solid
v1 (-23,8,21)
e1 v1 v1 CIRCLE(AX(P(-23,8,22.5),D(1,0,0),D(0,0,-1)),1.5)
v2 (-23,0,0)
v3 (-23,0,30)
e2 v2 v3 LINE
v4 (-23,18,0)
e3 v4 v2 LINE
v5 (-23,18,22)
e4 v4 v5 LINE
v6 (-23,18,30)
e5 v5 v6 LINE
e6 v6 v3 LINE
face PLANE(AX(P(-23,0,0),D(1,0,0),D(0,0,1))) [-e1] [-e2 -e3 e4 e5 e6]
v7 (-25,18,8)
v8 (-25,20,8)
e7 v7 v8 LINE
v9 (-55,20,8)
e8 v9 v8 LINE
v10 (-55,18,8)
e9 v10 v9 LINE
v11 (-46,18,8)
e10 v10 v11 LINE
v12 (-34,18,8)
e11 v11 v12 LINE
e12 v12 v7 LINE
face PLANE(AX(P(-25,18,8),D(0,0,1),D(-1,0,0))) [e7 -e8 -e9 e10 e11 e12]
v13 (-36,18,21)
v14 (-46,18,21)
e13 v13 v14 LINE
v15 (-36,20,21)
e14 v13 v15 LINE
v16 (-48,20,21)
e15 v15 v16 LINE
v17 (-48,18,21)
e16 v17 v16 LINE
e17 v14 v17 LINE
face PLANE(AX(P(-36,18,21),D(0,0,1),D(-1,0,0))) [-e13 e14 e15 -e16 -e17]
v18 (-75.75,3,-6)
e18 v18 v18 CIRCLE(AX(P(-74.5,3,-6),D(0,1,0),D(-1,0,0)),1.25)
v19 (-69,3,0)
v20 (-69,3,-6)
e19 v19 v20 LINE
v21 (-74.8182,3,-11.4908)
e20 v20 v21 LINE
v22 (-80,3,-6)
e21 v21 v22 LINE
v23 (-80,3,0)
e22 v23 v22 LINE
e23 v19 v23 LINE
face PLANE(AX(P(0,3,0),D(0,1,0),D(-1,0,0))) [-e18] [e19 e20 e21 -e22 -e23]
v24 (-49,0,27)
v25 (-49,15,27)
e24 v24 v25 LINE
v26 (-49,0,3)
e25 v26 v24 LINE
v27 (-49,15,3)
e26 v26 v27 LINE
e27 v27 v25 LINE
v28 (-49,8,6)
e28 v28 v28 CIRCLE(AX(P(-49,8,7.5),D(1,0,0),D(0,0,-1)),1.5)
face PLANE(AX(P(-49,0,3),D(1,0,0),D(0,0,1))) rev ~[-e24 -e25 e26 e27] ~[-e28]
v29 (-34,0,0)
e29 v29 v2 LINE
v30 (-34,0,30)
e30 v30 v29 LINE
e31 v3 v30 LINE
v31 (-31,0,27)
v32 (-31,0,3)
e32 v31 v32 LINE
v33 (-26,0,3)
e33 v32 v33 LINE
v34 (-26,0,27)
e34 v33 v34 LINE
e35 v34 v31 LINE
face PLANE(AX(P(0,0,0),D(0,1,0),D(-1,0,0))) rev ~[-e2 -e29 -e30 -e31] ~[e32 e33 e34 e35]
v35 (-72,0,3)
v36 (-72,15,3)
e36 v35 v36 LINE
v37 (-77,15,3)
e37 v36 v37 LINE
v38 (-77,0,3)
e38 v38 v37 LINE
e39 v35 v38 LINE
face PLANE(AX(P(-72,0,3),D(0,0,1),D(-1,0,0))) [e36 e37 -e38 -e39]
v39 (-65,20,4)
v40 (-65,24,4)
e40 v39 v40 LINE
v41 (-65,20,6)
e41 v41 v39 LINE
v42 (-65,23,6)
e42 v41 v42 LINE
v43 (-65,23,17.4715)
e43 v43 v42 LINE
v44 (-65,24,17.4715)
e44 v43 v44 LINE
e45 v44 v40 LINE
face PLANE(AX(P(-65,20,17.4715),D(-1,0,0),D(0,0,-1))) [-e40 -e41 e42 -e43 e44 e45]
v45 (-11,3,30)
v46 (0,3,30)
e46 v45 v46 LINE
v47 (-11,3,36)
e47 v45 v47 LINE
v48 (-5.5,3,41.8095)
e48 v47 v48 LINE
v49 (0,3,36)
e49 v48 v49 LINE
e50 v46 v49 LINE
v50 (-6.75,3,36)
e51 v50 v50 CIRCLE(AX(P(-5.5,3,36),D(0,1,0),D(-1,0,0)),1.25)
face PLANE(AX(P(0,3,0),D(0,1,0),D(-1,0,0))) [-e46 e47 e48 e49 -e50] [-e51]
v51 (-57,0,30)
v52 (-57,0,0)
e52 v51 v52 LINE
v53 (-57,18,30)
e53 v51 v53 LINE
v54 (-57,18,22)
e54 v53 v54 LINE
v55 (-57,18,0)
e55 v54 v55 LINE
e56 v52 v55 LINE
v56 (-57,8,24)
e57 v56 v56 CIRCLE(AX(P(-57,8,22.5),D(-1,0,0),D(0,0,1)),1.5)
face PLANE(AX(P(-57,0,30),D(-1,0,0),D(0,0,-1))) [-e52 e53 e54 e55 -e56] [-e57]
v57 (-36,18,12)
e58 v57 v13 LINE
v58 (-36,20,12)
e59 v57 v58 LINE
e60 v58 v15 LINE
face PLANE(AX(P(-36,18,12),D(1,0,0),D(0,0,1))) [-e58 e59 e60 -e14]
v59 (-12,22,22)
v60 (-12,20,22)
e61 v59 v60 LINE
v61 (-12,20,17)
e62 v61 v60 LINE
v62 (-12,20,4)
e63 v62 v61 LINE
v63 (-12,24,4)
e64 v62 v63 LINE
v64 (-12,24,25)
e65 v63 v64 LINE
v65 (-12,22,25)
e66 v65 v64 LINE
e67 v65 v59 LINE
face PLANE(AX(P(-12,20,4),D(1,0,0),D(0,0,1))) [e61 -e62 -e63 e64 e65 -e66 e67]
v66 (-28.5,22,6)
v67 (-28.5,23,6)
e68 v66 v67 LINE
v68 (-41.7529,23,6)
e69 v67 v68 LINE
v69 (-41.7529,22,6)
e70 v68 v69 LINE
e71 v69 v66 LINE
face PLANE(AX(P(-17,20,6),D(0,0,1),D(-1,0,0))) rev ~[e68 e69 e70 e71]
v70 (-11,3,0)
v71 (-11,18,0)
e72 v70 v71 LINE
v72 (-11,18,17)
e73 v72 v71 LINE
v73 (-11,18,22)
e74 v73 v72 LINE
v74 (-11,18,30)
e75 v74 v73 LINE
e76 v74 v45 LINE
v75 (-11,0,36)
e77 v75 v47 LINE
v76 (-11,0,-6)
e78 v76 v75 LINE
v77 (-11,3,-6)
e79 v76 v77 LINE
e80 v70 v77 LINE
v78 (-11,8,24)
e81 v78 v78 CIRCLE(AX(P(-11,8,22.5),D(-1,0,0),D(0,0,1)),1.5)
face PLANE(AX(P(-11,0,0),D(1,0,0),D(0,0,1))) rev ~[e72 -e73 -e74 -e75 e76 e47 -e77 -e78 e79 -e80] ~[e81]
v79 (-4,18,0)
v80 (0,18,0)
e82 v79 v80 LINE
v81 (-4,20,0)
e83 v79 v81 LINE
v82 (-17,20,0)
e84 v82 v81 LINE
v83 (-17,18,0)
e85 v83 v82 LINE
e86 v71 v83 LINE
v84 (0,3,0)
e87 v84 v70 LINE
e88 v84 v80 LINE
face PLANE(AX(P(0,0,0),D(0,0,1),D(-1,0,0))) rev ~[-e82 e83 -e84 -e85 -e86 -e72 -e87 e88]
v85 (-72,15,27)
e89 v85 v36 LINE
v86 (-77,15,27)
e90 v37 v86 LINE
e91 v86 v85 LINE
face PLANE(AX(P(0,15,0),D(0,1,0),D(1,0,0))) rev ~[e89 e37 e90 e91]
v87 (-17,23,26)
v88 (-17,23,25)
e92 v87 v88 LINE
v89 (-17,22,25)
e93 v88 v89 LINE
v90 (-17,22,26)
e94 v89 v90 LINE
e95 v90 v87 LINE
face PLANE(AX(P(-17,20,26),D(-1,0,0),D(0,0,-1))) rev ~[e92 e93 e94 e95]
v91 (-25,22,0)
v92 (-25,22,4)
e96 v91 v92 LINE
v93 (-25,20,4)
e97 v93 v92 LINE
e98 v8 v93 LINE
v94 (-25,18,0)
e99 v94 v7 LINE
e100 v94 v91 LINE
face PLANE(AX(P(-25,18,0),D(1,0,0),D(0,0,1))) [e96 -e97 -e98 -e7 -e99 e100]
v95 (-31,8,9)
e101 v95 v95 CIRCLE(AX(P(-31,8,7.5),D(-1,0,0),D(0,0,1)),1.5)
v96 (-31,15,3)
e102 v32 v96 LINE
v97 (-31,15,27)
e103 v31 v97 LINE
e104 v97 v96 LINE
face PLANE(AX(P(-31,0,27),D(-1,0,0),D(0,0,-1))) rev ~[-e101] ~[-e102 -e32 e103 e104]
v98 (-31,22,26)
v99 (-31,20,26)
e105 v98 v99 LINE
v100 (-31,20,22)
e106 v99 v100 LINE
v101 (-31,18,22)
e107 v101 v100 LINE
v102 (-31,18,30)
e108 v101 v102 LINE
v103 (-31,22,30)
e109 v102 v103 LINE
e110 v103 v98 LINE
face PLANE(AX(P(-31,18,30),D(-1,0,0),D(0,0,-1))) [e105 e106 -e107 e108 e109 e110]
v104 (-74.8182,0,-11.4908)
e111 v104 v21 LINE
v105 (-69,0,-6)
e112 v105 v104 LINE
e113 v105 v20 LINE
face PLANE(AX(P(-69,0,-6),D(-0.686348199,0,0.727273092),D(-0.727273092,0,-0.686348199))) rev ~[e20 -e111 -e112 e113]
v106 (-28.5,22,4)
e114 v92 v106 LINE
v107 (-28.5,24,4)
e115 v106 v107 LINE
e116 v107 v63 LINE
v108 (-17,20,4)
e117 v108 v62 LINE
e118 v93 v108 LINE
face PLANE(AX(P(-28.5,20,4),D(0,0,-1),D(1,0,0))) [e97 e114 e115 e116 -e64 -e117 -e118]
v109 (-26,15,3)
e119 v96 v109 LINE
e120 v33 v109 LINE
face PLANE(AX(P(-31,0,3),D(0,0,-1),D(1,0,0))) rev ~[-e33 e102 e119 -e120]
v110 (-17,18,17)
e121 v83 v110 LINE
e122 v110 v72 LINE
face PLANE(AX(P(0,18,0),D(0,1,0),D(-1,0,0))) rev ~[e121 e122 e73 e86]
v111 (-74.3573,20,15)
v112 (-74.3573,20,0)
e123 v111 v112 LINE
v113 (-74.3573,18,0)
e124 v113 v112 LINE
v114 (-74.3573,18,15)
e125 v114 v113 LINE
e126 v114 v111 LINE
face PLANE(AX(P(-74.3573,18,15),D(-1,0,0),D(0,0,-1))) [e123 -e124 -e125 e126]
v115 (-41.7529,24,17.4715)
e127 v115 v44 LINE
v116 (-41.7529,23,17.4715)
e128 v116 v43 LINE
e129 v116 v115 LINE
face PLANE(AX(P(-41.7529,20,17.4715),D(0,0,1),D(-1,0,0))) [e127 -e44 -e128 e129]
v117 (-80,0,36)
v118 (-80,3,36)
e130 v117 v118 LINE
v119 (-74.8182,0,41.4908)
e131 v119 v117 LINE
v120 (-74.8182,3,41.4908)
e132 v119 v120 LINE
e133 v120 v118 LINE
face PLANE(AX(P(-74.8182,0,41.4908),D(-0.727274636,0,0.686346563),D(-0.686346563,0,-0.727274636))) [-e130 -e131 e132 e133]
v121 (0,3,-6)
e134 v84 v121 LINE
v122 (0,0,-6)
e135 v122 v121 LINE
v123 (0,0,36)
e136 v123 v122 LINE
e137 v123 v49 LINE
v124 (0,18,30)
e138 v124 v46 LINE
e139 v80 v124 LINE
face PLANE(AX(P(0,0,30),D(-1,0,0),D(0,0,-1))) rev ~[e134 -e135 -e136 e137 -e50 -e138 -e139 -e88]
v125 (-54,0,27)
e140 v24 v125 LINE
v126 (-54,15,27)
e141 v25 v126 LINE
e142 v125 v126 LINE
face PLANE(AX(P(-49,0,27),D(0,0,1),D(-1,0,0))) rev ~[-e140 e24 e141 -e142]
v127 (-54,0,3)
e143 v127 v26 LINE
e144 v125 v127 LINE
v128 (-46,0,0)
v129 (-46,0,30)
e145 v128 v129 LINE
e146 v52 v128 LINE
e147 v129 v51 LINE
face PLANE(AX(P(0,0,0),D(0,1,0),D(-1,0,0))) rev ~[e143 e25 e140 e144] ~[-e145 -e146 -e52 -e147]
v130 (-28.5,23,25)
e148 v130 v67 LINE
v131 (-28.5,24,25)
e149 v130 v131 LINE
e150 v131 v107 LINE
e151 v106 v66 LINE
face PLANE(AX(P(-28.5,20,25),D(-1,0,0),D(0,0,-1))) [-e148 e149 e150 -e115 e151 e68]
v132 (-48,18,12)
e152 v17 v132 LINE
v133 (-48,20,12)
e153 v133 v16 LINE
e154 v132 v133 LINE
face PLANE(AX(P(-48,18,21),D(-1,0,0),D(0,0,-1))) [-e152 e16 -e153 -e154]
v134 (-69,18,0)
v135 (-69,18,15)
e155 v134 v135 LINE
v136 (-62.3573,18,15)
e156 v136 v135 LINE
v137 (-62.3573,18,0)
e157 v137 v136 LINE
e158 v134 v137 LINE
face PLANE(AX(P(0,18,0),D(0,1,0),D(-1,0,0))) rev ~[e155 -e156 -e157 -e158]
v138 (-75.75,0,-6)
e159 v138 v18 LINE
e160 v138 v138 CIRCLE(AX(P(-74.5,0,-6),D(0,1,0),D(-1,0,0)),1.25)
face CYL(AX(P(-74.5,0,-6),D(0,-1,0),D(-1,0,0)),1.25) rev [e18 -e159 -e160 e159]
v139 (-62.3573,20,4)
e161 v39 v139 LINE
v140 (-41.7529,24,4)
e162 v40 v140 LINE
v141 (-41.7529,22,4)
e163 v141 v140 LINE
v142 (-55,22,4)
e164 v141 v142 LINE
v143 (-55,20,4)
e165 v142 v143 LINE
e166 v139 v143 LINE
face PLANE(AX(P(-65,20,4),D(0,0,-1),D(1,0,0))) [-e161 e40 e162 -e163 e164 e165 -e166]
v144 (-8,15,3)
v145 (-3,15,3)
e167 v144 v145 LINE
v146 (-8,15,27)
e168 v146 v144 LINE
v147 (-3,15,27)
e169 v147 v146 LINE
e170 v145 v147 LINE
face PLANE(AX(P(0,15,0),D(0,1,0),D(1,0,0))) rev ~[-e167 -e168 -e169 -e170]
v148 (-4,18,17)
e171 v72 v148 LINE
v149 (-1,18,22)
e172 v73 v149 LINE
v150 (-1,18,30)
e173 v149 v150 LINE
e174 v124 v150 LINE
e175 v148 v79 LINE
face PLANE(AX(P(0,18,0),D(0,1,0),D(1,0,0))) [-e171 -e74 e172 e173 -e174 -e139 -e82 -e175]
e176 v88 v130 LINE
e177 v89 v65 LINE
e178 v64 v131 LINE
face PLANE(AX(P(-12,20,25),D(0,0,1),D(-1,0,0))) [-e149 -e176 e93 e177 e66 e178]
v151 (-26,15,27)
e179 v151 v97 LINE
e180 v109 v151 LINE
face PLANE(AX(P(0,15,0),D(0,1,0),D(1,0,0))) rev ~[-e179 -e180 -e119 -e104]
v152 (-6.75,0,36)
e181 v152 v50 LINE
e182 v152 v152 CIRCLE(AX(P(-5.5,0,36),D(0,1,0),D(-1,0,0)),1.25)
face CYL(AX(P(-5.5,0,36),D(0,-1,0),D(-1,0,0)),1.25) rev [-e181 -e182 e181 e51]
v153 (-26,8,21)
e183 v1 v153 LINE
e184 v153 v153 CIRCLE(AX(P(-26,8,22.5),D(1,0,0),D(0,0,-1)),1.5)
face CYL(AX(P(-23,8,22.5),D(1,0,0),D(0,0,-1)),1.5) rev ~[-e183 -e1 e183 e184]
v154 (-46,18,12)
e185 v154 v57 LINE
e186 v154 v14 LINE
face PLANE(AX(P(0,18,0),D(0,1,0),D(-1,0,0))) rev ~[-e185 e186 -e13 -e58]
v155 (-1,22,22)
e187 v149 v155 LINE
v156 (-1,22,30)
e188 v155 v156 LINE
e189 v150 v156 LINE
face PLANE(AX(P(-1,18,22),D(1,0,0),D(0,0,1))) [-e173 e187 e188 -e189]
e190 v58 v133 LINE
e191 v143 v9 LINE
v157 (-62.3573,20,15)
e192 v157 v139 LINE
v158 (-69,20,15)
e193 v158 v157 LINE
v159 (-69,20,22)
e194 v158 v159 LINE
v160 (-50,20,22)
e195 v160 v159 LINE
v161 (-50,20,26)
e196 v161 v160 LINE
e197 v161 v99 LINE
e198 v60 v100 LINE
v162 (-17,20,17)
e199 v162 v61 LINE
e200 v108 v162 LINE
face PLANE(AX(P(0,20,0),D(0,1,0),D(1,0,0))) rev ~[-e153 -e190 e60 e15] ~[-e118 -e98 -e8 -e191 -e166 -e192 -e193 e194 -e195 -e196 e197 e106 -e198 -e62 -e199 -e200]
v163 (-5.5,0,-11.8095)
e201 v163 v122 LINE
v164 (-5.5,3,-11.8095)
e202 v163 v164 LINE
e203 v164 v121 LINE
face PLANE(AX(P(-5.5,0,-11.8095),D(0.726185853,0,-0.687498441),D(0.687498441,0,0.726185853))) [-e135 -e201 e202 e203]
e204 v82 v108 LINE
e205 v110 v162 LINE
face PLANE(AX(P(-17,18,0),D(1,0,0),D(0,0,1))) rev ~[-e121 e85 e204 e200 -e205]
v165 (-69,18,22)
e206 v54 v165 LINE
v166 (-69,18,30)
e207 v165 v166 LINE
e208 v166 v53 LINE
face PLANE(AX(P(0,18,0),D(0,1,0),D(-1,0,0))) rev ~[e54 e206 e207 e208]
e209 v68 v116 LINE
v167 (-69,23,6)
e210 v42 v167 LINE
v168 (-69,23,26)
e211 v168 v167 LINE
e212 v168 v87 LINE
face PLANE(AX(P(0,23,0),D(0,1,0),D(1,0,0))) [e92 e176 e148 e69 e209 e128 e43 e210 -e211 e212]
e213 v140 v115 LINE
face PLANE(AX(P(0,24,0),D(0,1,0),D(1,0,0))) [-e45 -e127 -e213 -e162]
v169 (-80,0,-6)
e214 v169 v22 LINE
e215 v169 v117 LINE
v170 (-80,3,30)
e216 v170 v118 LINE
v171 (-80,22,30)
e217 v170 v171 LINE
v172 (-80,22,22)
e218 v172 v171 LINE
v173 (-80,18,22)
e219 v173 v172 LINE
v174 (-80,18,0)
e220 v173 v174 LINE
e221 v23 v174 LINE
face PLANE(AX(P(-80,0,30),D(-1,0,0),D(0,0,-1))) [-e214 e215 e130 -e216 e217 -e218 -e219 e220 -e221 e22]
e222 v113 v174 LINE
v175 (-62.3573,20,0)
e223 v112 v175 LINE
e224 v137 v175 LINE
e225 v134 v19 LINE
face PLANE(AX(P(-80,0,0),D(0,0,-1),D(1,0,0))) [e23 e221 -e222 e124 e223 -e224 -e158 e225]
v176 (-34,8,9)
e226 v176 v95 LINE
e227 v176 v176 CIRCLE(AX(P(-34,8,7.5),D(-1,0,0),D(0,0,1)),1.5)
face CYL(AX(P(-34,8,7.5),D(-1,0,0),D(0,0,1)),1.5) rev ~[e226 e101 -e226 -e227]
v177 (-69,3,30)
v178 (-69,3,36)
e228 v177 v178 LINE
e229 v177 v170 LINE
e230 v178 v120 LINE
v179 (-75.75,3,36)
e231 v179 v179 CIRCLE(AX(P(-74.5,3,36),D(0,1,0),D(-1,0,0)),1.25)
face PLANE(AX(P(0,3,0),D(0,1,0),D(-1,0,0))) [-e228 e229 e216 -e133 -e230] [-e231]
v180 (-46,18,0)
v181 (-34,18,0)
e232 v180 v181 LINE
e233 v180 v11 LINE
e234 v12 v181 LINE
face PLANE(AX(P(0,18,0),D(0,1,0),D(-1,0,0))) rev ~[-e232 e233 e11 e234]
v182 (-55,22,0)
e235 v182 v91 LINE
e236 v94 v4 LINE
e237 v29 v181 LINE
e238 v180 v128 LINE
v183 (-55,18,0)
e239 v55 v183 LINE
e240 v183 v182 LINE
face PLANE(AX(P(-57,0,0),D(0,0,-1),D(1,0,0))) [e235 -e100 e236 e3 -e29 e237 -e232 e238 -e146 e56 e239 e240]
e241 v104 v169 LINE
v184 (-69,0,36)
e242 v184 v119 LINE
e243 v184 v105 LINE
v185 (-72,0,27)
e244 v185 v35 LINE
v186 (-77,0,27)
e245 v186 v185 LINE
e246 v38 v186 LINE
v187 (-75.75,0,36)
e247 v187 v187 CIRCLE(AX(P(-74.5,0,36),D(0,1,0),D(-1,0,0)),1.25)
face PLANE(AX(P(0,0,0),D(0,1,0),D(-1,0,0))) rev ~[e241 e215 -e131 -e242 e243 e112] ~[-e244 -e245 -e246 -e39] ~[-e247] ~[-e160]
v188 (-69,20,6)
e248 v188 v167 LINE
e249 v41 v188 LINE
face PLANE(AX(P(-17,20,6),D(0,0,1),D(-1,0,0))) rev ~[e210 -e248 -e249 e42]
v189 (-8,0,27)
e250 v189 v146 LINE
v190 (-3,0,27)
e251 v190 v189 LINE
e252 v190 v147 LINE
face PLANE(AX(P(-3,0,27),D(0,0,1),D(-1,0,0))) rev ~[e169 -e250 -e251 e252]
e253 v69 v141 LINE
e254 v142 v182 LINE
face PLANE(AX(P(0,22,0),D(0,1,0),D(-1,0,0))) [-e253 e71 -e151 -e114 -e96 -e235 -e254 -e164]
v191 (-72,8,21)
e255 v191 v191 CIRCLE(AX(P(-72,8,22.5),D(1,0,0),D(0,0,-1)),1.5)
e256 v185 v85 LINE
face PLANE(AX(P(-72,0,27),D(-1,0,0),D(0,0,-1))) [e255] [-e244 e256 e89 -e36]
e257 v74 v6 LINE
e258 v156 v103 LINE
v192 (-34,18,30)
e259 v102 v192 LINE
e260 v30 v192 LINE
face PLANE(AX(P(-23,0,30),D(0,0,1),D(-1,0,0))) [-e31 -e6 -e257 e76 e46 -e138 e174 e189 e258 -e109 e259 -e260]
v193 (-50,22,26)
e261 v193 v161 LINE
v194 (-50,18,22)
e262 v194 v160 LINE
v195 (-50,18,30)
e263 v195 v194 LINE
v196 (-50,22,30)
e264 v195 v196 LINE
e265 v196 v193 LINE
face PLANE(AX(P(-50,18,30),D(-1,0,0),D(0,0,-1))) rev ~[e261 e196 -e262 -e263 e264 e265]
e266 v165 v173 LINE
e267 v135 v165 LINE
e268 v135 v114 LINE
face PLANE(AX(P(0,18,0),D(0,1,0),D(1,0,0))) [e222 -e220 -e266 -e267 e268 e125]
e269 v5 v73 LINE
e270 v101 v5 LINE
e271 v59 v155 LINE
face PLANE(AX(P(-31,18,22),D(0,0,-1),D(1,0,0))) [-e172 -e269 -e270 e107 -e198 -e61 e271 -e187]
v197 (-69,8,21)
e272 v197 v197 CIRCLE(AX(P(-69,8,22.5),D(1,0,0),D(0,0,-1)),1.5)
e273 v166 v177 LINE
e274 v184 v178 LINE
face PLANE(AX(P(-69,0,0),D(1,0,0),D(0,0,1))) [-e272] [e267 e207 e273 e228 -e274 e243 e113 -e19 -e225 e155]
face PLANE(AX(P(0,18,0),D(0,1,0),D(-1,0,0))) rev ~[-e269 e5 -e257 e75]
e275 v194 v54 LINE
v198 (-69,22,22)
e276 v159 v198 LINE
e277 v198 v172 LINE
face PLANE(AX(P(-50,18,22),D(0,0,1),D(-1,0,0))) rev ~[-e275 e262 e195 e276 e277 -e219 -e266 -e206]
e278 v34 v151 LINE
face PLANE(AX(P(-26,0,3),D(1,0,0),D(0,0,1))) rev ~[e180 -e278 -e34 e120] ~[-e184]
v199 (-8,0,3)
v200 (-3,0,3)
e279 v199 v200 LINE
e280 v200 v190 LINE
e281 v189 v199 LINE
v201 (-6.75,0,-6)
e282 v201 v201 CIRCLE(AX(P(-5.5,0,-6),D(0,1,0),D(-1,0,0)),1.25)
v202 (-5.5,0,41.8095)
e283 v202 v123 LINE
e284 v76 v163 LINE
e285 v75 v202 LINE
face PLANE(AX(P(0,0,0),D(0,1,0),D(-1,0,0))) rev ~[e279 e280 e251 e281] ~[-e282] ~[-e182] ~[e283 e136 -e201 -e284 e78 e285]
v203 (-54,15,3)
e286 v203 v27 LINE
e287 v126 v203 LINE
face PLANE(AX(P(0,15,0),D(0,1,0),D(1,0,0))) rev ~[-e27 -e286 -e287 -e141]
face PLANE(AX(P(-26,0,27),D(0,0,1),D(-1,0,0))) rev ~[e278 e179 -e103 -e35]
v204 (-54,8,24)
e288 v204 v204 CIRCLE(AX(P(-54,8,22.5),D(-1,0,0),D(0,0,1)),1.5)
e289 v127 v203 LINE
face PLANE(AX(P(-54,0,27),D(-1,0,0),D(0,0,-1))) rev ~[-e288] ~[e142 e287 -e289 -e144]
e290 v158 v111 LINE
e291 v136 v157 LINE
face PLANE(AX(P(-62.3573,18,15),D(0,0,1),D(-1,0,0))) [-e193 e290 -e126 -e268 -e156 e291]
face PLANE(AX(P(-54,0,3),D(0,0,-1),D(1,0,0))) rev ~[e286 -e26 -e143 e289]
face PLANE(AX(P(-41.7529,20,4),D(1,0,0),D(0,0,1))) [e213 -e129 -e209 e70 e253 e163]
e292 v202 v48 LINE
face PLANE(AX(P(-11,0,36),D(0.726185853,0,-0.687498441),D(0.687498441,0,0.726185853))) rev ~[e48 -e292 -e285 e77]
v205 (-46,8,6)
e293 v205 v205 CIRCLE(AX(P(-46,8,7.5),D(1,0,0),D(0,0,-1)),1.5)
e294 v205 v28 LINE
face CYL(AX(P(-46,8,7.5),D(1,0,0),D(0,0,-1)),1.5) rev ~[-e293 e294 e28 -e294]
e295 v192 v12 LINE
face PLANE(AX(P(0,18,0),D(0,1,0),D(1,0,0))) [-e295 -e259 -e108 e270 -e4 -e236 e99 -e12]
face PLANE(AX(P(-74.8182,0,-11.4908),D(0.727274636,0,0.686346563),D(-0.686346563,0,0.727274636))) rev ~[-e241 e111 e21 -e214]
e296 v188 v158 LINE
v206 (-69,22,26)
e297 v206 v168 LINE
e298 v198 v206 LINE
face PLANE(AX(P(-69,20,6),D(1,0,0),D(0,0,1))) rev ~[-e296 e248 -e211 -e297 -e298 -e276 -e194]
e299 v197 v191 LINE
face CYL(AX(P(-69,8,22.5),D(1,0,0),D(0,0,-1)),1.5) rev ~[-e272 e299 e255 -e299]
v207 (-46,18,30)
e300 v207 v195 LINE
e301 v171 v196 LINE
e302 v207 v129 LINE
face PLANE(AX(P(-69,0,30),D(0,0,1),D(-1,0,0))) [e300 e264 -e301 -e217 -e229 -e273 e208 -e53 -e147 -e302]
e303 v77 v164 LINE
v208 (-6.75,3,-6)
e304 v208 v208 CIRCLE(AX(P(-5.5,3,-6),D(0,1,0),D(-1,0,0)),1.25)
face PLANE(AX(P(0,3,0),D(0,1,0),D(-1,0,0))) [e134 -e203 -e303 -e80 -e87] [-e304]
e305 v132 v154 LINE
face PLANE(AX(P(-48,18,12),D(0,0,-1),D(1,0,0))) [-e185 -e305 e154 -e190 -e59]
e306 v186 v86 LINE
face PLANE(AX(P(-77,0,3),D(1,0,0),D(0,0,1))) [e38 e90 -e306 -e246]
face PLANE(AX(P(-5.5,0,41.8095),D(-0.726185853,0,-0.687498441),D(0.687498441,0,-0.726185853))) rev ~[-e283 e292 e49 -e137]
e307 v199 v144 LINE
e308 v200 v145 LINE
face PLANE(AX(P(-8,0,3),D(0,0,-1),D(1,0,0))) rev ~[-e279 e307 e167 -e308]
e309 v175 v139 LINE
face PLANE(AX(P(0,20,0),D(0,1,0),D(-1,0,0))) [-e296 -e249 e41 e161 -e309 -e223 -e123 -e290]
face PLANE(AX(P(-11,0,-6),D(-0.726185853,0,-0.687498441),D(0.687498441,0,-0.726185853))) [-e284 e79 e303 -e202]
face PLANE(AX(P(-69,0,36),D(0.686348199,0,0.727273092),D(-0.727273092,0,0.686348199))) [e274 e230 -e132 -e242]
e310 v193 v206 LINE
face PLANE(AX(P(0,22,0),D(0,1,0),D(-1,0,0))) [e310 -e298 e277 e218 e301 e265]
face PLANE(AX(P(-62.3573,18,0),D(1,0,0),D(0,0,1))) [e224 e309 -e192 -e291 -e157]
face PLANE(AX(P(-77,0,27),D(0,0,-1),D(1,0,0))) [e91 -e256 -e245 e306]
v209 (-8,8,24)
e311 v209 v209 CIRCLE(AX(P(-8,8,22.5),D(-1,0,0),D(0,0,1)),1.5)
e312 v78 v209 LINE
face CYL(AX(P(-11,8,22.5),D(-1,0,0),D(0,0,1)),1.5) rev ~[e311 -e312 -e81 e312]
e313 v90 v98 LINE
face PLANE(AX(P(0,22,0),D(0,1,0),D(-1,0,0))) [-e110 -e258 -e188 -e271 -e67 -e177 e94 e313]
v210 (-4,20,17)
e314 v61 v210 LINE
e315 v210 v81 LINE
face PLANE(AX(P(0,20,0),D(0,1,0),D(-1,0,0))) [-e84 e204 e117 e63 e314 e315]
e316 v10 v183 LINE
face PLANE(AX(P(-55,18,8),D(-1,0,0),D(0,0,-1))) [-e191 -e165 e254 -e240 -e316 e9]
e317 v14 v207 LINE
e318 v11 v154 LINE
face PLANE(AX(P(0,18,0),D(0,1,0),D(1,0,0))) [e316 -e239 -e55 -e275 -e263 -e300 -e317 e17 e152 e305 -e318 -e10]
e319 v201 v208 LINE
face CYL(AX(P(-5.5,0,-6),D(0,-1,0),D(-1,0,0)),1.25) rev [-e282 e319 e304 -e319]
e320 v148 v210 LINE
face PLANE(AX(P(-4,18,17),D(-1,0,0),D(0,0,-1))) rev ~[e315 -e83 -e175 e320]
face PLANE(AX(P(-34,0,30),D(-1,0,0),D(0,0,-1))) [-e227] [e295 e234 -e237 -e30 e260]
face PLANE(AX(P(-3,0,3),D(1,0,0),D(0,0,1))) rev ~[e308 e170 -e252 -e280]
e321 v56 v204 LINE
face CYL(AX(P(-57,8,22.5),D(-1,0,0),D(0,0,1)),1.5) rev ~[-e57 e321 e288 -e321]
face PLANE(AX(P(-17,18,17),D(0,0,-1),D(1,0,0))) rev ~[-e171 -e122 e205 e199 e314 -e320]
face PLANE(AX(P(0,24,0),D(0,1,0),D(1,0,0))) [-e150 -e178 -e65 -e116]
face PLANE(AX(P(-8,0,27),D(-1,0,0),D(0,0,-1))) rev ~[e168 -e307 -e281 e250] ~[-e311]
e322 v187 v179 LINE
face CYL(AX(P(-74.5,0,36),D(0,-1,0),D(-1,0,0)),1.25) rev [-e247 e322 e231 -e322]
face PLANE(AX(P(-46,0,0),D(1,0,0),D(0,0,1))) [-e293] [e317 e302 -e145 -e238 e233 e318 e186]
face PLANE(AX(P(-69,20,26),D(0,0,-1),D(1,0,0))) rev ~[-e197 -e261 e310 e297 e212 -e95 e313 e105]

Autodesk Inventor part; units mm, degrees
ref_plane "YZ Plane" through (0, 0, 0) normal (1, 0, 0) x (0, 1, 0)
ref_plane "XY Plane" through (0, 0, 0) normal (0, 0, 1) x (1, 0, 0)
sketch "Sketch1" plane through (0, 0, 0) normal (0, 1, 0) x (-1, 0, 0)
  line L0 (0, 0) -> (80, 0) construction
  line L1 (80, 0) -> (80, 30) construction
  line L2 (80, 30) -> (0, 30) construction
  line L3 (0, 30) -> (0, 0) construction
  dimension "d0" = 80
  dimension "d1" = 30
sketch "Sketch2" plane through (0, 0, 0) normal (0, 1, 0) x (-1, 0, 0)
  line L0 (80, 0) -> (69, 0)
  line L1 (69, 0) -> (69, 30)
  line L2 (69, 30) -> (80, 30)
  line L3 (80, 30) -> (80, 0)
  line L4 (0, 0) -> (11, 0)
  line L5 (11, 0) -> (11, 30)
  line L6 (11, 30) -> (0, 30)
  line L7 (0, 30) -> (0, 0)
  line L8 (57, 0) -> (46, 0)
  line L9 (46, 0) -> (46, 30)
  line L10 (46, 30) -> (57, 30)
  line L11 (57, 30) -> (57, 0)
  line L12 (34, 0) -> (23, 0)
  line L13 (23, 0) -> (23, 30)
  line L14 (23, 30) -> (34, 30)
  line L15 (34, 30) -> (34, 0)
  line L16 (69, 15) -> (57, 15) construction
  line L17 (46, 15) -> (34, 15) construction
  line L18 (23, 15) -> (11, 15) construction
  line L19 (72, 3) -> (77, 3)
  line L20 (77, 3) -> (77, 27)
  line L21 (77, 27) -> (72, 27)
  line L22 (72, 27) -> (72, 3)
  line L23 (54, 3) -> (49, 3)
  line L24 (49, 3) -> (49, 27)
  line L25 (49, 27) -> (54, 27)
  line L26 (54, 27) -> (54, 3)
  line L27 (31, 3) -> (26, 3)
  line L28 (26, 3) -> (26, 27)
  line L29 (26, 27) -> (31, 27)
  line L30 (31, 27) -> (31, 3)
  line L31 (8, 27) -> (8, 3)
  line L32 (8, 3) -> (3, 3)
  line L33 (3, 3) -> (3, 27)
  line L34 (3, 27) -> (8, 27)
  dimension "d2" = 11
  dimension "d3" = 30
  dimension "d4" = 11
  dimension "d6" = 11
  dimension "d8" = 11
  dimension "d9" = 80
  dimension "d10" = 3
  dimension "d11" = 3
  dimension "d12" = 3
  dimension "d13" = 3
extrude "Extrusion1" add sketch "Sketch2" along normal blind 15
sketch "Sketch3" plane through (0, 15, 0) normal (0, 1, 0) x (1, 0, 0)
  line L0 (-69, 0) -> (-80, 0) projected
  line L1 (-80, 0) -> (-69, 0)
  line L2 (-69, 0) -> (-69, -30)
  line L3 (-69, -30) -> (-80, -30)
  line L4 (-80, -30) -> (-80, 0)
  line L5 (-57, 0) -> (-46, 0)
  line L6 (-46, 0) -> (-46, -30)
  line L7 (-46, -30) -> (-57, -30)
  line L8 (-57, -30) -> (-57, 0)
  line L9 (-34, 0) -> (-23, 0)
  line L10 (-23, 0) -> (-23, -30)
  line L11 (-23, -30) -> (-34, -30)
  line L12 (-34, -30) -> (-34, 0)
  line L13 (-11, 0) -> (0, 0)
  line L14 (0, 0) -> (0, -30)
  line L15 (0, -30) -> (-11, -30)
  line L16 (-11, -30) -> (-11, 0)
  dimension "d16" = 30
  dimension "d19" = 23
extrude "Extrusion2" add sketch "Sketch3" along normal blind 3
sketch "Sketch4" plane through (-69, 0, 30) normal (1, 0, 0) x (0, 0, -1)
  circle A0 centre (7.5, 8) radius 1.5
  line L0 (3, 0) -> (27, 0) projected
  line L1 (0, 0) -> (0, 18) construction
  dimension "d26" = 3
  dimension "d28" = 8
  dimension "d29" = 7.5
extrude "Extrusion3" cut sketch "Sketch4" against normal blind 3
sketch "Sketch5" plane through (-57, 0, 0) normal (-1, 0, 0) x (0, 0, 1)
  circle A0 centre (22.5, 8) radius 1.5
  line L0 (30, 0) -> (30, 18) projected
  line L1 (3, 0) -> (27, 0) projected
  point P0 (0, 0)
  dimension "d33" = 3
  dimension "d34" = 7.5
  dimension "d35" = 8
extrude "Extrusion4" cut sketch "Sketch5" against normal blind 3
sketch "Sketch6" plane through (-46, 0, 30) normal (1, 0, 0) x (0, 0, -1)
  circle A0 centre (22.5, 8) radius 1.5
  line L0 (30, 0) -> (30, 18) projected
  line L1 (3, 0) -> (27, 0) projected
  dimension "d38" = 3
  dimension "d39" = 7.5
  dimension "d40" = 8
sketch "Sketch7" plane through (-34, 0, 0) normal (-1, 0, 0) x (0, 0, 1)
  circle A0 centre (7.5, 8) radius 1.5
  line L0 (3, 0) -> (27, 0) projected
  line L1 (0, 0) -> (0, 18) projected
  dimension "d41" = 3
  dimension "d42" = 8
  dimension "d43" = 7.5
sketch "Sketch8" plane through (-23, 0, 30) normal (1, 0, 0) x (0, 0, -1)
  circle A0 centre (7.5, 8) radius 1.5
  line L0 (3, 0) -> (27, 0) projected
  line L1 (0, 0) -> (0, 18) projected
  point P0 (30, 0)
  dimension "d44" = 3
  dimension "d45" = 8
  dimension "d46" = 7.5
sketch "Sketch9" plane through (-11, 0, 0) normal (-1, 0, 0) x (0, 0, 1)
  point P0 (0, 0)
sketch "Sketch10" plane through (-11, 0, 0) normal (-1, 0, 0) x (0, 0, 1)
  circle A0 centre (22.5, 8) radius 1.5
  line L0 (30, 0) -> (30, 18) projected
  line L1 (3, 0) -> (27, 0) projected
  point P0 (0, 0)
  dimension "d47" = 3
  dimension "d48" = 7.5
  dimension "d49" = 8
extrude "Extrusion5" cut sketch "Sketch6" against normal blind 3
extrude "Extrusion6" cut sketch "Sketch7" against normal blind 3
extrude "Extrusion7" cut sketch "Sketch8" against normal blind 3
extrude "Extrusion8" cut sketch "Sketch10" against normal blind 3
ref_plane "Work Plane1" through (0, 18, 0) normal (0, 1, 0) x (-1, 0, 0)
sketch "Sketch12" plane through (0, 18, 0) normal (0, 1, 0) x (-1, 0, 0)
  line L0 (80, 30) -> (50, 30)
  line L1 (50, 30) -> (50, 22)
  line L2 (50, 22) -> (80, 22)
  line L3 (80, 22) -> (80, 30)
  line L4 (55, 0) -> (25, 0)
  line L5 (25, 0) -> (25, 8)
  line L6 (25, 8) -> (55, 8)
  line L7 (55, 8) -> (55, 0)
  line L8 (31, 3) -> (31, 27) projected
  line L9 (31, 22) -> (1, 22)
  line L10 (1, 22) -> (1, 30)
  line L11 (1, 30) -> (31, 30)
  line L12 (31, 30) -> (31, 22)
  point P0 (0, 0)
  dimension "d59" = 30
  dimension "d60" = 8
  dimension "d61" = 30
  dimension "d62" = 8
  dimension "d63" = 30
sketch "Sketch13" plane through (0, 18, 0) normal (0, 1, 0) x (-1, 0, 0)
  line L0 (74.3573, 0) -> (62.3573, 0)
  line L1 (62.3573, 0) -> (62.3573, 15)
  line L2 (62.3573, 15) -> (74.3573, 15)
  line L3 (74.3573, 15) -> (74.3573, 0)
  line L4 (48, 12) -> (36, 12)
  line L5 (36, 12) -> (36, 21)
  line L6 (36, 21) -> (48, 21)
  line L7 (48, 21) -> (48, 12)
  line L8 (0, 0) -> (11, 0) projected
  line L9 (4, 0) -> (17, 0)
  line L10 (17, 0) -> (17, 17)
  line L11 (17, 17) -> (4, 17)
  line L12 (4, 17) -> (4, 0)
  dimension "d64" = 12
  dimension "d65" = 15
  dimension "d66" = 12
  dimension "d67" = 13
  dimension "d68" = 17
extrude "Extrusion9" add sketch "Sketch13" along normal blind 2
extrude "Extrusion10" add sketch "Sketch12" along normal blind 4
sketch "Sketch14" plane through (0, 20, 0) normal (0, 1, 0) x (1, 0, 0)
  line L0 (-65, -4) -> (-41.7529, -4)
  line L1 (-41.7529, -4) -> (-41.7529, -17.4715)
  line L2 (-41.7529, -17.4715) -> (-65, -17.4715)
  line L3 (-65, -17.4715) -> (-65, -4)
  line L4 (-12, -25) -> (-28.5, -25)
  line L5 (-28.5, -25) -> (-28.5, -4)
  line L6 (-28.5, -4) -> (-12, -4)
  line L7 (-12, -4) -> (-12, -25)
  point P0 (0, 0)
  dimension "d73" = 16.5
extrude "Extrusion11" add sketch "Sketch14" along normal blind 4
sketch "Sketch15" plane through (0, 20, 0) normal (0, 1, 0) x (1, 0, 0)
  line L0 (-69, -30) -> (-69, -22) projected
  line L1 (-69, -26) -> (-17, -26)
  line L2 (-17, -26) -> (-17, -6)
  line L3 (-17, -6) -> (-69, -6)
  line L4 (-69, -6) -> (-69, -26)
  point P0 (0, 0)
  dimension "d76" = 52
  dimension "d77" = 20
extrude "Extrusion12" add sketch "Sketch15" along normal blind 3
sketch "Sketch16" plane through (0, 0, 0) normal (0, 1, 0) x (-1, 0, 0)
  line L0 (69, 30) -> (80, 30) projected
  line L1 (80, 30) -> (80, 36)
  line L2 (69, 30) -> (69, 36)
  line L3 (69, 36) -> (74.8182, 41.4908)
  line L4 (74.8182, 41.4908) -> (80, 36)
  circle A0 centre (74.5, 36) radius 1.25
  line L5 (74.5, 36) -> (80, 36) construction
  line L6 (74.5, 36) -> (69, 36) construction
  line L7 (11, 30) -> (11, 36)
  line L8 (0, 30) -> (0, 36)
  line L9 (11, 36) -> (5.5, 41.8095)
  line L10 (5.5, 41.8095) -> (0, 36)
  circle A1 centre (5.5, 36) radius 1.25
  line L11 (5.5, 36) -> (11, 36) construction
  line L12 (5.5, 36) -> (0, 36) construction
  line L13 (80, 15) -> (0, 15) construction
  line L14 (69, 0) -> (80, 0)
  line L15 (80, 0) -> (80, -6)
  line L16 (69, 0) -> (69, -6)
  line L17 (69, -6) -> (74.8182, -11.4908)
  line L18 (74.8182, -11.4908) -> (80, -6)
  circle A2 centre (74.5, -6) radius 1.25
  line L19 (74.5, -6) -> (80, -6) construction
  line L20 (74.5, -6) -> (69, -6) construction
  line L21 (11, 0) -> (11, -6)
  line L22 (0, 0) -> (0, -6)
  line L23 (11, -6) -> (5.5, -11.8095)
  line L24 (5.5, -11.8095) -> (0, -6)
  circle A3 centre (5.5, -6) radius 1.25
  line L25 (5.5, -6) -> (11, -6) construction
  line L26 (5.5, -6) -> (0, -6) construction
  line L27 (80, 0) -> (69, 0) projected
  line L28 (80, 0) -> (69, 0)
  line L29 (11, 0) -> (0, 0)
  line L30 (4, 0) -> (17, 0) projected
  line L31 (11, 30) -> (0, 30)
  dimension "d80" = 6
  dimension "d81" = 6
  dimension "d82" = 8
  dimension "d83" = 2.5
  dimension "d84" = 6
  dimension "d85" = 6
  dimension "d86" = 6
  dimension "d87" = 8
  dimension "d88" = 2.5
extrude "Extrusion14" add sketch "Sketch16" along normal blind 3
equation "\"d84\" = d81"
equation "\"d85\" = d86"
equation "\"d86\" = d84"
equation "\"d87\" = d82"
properties part number "ball-waterfall"
